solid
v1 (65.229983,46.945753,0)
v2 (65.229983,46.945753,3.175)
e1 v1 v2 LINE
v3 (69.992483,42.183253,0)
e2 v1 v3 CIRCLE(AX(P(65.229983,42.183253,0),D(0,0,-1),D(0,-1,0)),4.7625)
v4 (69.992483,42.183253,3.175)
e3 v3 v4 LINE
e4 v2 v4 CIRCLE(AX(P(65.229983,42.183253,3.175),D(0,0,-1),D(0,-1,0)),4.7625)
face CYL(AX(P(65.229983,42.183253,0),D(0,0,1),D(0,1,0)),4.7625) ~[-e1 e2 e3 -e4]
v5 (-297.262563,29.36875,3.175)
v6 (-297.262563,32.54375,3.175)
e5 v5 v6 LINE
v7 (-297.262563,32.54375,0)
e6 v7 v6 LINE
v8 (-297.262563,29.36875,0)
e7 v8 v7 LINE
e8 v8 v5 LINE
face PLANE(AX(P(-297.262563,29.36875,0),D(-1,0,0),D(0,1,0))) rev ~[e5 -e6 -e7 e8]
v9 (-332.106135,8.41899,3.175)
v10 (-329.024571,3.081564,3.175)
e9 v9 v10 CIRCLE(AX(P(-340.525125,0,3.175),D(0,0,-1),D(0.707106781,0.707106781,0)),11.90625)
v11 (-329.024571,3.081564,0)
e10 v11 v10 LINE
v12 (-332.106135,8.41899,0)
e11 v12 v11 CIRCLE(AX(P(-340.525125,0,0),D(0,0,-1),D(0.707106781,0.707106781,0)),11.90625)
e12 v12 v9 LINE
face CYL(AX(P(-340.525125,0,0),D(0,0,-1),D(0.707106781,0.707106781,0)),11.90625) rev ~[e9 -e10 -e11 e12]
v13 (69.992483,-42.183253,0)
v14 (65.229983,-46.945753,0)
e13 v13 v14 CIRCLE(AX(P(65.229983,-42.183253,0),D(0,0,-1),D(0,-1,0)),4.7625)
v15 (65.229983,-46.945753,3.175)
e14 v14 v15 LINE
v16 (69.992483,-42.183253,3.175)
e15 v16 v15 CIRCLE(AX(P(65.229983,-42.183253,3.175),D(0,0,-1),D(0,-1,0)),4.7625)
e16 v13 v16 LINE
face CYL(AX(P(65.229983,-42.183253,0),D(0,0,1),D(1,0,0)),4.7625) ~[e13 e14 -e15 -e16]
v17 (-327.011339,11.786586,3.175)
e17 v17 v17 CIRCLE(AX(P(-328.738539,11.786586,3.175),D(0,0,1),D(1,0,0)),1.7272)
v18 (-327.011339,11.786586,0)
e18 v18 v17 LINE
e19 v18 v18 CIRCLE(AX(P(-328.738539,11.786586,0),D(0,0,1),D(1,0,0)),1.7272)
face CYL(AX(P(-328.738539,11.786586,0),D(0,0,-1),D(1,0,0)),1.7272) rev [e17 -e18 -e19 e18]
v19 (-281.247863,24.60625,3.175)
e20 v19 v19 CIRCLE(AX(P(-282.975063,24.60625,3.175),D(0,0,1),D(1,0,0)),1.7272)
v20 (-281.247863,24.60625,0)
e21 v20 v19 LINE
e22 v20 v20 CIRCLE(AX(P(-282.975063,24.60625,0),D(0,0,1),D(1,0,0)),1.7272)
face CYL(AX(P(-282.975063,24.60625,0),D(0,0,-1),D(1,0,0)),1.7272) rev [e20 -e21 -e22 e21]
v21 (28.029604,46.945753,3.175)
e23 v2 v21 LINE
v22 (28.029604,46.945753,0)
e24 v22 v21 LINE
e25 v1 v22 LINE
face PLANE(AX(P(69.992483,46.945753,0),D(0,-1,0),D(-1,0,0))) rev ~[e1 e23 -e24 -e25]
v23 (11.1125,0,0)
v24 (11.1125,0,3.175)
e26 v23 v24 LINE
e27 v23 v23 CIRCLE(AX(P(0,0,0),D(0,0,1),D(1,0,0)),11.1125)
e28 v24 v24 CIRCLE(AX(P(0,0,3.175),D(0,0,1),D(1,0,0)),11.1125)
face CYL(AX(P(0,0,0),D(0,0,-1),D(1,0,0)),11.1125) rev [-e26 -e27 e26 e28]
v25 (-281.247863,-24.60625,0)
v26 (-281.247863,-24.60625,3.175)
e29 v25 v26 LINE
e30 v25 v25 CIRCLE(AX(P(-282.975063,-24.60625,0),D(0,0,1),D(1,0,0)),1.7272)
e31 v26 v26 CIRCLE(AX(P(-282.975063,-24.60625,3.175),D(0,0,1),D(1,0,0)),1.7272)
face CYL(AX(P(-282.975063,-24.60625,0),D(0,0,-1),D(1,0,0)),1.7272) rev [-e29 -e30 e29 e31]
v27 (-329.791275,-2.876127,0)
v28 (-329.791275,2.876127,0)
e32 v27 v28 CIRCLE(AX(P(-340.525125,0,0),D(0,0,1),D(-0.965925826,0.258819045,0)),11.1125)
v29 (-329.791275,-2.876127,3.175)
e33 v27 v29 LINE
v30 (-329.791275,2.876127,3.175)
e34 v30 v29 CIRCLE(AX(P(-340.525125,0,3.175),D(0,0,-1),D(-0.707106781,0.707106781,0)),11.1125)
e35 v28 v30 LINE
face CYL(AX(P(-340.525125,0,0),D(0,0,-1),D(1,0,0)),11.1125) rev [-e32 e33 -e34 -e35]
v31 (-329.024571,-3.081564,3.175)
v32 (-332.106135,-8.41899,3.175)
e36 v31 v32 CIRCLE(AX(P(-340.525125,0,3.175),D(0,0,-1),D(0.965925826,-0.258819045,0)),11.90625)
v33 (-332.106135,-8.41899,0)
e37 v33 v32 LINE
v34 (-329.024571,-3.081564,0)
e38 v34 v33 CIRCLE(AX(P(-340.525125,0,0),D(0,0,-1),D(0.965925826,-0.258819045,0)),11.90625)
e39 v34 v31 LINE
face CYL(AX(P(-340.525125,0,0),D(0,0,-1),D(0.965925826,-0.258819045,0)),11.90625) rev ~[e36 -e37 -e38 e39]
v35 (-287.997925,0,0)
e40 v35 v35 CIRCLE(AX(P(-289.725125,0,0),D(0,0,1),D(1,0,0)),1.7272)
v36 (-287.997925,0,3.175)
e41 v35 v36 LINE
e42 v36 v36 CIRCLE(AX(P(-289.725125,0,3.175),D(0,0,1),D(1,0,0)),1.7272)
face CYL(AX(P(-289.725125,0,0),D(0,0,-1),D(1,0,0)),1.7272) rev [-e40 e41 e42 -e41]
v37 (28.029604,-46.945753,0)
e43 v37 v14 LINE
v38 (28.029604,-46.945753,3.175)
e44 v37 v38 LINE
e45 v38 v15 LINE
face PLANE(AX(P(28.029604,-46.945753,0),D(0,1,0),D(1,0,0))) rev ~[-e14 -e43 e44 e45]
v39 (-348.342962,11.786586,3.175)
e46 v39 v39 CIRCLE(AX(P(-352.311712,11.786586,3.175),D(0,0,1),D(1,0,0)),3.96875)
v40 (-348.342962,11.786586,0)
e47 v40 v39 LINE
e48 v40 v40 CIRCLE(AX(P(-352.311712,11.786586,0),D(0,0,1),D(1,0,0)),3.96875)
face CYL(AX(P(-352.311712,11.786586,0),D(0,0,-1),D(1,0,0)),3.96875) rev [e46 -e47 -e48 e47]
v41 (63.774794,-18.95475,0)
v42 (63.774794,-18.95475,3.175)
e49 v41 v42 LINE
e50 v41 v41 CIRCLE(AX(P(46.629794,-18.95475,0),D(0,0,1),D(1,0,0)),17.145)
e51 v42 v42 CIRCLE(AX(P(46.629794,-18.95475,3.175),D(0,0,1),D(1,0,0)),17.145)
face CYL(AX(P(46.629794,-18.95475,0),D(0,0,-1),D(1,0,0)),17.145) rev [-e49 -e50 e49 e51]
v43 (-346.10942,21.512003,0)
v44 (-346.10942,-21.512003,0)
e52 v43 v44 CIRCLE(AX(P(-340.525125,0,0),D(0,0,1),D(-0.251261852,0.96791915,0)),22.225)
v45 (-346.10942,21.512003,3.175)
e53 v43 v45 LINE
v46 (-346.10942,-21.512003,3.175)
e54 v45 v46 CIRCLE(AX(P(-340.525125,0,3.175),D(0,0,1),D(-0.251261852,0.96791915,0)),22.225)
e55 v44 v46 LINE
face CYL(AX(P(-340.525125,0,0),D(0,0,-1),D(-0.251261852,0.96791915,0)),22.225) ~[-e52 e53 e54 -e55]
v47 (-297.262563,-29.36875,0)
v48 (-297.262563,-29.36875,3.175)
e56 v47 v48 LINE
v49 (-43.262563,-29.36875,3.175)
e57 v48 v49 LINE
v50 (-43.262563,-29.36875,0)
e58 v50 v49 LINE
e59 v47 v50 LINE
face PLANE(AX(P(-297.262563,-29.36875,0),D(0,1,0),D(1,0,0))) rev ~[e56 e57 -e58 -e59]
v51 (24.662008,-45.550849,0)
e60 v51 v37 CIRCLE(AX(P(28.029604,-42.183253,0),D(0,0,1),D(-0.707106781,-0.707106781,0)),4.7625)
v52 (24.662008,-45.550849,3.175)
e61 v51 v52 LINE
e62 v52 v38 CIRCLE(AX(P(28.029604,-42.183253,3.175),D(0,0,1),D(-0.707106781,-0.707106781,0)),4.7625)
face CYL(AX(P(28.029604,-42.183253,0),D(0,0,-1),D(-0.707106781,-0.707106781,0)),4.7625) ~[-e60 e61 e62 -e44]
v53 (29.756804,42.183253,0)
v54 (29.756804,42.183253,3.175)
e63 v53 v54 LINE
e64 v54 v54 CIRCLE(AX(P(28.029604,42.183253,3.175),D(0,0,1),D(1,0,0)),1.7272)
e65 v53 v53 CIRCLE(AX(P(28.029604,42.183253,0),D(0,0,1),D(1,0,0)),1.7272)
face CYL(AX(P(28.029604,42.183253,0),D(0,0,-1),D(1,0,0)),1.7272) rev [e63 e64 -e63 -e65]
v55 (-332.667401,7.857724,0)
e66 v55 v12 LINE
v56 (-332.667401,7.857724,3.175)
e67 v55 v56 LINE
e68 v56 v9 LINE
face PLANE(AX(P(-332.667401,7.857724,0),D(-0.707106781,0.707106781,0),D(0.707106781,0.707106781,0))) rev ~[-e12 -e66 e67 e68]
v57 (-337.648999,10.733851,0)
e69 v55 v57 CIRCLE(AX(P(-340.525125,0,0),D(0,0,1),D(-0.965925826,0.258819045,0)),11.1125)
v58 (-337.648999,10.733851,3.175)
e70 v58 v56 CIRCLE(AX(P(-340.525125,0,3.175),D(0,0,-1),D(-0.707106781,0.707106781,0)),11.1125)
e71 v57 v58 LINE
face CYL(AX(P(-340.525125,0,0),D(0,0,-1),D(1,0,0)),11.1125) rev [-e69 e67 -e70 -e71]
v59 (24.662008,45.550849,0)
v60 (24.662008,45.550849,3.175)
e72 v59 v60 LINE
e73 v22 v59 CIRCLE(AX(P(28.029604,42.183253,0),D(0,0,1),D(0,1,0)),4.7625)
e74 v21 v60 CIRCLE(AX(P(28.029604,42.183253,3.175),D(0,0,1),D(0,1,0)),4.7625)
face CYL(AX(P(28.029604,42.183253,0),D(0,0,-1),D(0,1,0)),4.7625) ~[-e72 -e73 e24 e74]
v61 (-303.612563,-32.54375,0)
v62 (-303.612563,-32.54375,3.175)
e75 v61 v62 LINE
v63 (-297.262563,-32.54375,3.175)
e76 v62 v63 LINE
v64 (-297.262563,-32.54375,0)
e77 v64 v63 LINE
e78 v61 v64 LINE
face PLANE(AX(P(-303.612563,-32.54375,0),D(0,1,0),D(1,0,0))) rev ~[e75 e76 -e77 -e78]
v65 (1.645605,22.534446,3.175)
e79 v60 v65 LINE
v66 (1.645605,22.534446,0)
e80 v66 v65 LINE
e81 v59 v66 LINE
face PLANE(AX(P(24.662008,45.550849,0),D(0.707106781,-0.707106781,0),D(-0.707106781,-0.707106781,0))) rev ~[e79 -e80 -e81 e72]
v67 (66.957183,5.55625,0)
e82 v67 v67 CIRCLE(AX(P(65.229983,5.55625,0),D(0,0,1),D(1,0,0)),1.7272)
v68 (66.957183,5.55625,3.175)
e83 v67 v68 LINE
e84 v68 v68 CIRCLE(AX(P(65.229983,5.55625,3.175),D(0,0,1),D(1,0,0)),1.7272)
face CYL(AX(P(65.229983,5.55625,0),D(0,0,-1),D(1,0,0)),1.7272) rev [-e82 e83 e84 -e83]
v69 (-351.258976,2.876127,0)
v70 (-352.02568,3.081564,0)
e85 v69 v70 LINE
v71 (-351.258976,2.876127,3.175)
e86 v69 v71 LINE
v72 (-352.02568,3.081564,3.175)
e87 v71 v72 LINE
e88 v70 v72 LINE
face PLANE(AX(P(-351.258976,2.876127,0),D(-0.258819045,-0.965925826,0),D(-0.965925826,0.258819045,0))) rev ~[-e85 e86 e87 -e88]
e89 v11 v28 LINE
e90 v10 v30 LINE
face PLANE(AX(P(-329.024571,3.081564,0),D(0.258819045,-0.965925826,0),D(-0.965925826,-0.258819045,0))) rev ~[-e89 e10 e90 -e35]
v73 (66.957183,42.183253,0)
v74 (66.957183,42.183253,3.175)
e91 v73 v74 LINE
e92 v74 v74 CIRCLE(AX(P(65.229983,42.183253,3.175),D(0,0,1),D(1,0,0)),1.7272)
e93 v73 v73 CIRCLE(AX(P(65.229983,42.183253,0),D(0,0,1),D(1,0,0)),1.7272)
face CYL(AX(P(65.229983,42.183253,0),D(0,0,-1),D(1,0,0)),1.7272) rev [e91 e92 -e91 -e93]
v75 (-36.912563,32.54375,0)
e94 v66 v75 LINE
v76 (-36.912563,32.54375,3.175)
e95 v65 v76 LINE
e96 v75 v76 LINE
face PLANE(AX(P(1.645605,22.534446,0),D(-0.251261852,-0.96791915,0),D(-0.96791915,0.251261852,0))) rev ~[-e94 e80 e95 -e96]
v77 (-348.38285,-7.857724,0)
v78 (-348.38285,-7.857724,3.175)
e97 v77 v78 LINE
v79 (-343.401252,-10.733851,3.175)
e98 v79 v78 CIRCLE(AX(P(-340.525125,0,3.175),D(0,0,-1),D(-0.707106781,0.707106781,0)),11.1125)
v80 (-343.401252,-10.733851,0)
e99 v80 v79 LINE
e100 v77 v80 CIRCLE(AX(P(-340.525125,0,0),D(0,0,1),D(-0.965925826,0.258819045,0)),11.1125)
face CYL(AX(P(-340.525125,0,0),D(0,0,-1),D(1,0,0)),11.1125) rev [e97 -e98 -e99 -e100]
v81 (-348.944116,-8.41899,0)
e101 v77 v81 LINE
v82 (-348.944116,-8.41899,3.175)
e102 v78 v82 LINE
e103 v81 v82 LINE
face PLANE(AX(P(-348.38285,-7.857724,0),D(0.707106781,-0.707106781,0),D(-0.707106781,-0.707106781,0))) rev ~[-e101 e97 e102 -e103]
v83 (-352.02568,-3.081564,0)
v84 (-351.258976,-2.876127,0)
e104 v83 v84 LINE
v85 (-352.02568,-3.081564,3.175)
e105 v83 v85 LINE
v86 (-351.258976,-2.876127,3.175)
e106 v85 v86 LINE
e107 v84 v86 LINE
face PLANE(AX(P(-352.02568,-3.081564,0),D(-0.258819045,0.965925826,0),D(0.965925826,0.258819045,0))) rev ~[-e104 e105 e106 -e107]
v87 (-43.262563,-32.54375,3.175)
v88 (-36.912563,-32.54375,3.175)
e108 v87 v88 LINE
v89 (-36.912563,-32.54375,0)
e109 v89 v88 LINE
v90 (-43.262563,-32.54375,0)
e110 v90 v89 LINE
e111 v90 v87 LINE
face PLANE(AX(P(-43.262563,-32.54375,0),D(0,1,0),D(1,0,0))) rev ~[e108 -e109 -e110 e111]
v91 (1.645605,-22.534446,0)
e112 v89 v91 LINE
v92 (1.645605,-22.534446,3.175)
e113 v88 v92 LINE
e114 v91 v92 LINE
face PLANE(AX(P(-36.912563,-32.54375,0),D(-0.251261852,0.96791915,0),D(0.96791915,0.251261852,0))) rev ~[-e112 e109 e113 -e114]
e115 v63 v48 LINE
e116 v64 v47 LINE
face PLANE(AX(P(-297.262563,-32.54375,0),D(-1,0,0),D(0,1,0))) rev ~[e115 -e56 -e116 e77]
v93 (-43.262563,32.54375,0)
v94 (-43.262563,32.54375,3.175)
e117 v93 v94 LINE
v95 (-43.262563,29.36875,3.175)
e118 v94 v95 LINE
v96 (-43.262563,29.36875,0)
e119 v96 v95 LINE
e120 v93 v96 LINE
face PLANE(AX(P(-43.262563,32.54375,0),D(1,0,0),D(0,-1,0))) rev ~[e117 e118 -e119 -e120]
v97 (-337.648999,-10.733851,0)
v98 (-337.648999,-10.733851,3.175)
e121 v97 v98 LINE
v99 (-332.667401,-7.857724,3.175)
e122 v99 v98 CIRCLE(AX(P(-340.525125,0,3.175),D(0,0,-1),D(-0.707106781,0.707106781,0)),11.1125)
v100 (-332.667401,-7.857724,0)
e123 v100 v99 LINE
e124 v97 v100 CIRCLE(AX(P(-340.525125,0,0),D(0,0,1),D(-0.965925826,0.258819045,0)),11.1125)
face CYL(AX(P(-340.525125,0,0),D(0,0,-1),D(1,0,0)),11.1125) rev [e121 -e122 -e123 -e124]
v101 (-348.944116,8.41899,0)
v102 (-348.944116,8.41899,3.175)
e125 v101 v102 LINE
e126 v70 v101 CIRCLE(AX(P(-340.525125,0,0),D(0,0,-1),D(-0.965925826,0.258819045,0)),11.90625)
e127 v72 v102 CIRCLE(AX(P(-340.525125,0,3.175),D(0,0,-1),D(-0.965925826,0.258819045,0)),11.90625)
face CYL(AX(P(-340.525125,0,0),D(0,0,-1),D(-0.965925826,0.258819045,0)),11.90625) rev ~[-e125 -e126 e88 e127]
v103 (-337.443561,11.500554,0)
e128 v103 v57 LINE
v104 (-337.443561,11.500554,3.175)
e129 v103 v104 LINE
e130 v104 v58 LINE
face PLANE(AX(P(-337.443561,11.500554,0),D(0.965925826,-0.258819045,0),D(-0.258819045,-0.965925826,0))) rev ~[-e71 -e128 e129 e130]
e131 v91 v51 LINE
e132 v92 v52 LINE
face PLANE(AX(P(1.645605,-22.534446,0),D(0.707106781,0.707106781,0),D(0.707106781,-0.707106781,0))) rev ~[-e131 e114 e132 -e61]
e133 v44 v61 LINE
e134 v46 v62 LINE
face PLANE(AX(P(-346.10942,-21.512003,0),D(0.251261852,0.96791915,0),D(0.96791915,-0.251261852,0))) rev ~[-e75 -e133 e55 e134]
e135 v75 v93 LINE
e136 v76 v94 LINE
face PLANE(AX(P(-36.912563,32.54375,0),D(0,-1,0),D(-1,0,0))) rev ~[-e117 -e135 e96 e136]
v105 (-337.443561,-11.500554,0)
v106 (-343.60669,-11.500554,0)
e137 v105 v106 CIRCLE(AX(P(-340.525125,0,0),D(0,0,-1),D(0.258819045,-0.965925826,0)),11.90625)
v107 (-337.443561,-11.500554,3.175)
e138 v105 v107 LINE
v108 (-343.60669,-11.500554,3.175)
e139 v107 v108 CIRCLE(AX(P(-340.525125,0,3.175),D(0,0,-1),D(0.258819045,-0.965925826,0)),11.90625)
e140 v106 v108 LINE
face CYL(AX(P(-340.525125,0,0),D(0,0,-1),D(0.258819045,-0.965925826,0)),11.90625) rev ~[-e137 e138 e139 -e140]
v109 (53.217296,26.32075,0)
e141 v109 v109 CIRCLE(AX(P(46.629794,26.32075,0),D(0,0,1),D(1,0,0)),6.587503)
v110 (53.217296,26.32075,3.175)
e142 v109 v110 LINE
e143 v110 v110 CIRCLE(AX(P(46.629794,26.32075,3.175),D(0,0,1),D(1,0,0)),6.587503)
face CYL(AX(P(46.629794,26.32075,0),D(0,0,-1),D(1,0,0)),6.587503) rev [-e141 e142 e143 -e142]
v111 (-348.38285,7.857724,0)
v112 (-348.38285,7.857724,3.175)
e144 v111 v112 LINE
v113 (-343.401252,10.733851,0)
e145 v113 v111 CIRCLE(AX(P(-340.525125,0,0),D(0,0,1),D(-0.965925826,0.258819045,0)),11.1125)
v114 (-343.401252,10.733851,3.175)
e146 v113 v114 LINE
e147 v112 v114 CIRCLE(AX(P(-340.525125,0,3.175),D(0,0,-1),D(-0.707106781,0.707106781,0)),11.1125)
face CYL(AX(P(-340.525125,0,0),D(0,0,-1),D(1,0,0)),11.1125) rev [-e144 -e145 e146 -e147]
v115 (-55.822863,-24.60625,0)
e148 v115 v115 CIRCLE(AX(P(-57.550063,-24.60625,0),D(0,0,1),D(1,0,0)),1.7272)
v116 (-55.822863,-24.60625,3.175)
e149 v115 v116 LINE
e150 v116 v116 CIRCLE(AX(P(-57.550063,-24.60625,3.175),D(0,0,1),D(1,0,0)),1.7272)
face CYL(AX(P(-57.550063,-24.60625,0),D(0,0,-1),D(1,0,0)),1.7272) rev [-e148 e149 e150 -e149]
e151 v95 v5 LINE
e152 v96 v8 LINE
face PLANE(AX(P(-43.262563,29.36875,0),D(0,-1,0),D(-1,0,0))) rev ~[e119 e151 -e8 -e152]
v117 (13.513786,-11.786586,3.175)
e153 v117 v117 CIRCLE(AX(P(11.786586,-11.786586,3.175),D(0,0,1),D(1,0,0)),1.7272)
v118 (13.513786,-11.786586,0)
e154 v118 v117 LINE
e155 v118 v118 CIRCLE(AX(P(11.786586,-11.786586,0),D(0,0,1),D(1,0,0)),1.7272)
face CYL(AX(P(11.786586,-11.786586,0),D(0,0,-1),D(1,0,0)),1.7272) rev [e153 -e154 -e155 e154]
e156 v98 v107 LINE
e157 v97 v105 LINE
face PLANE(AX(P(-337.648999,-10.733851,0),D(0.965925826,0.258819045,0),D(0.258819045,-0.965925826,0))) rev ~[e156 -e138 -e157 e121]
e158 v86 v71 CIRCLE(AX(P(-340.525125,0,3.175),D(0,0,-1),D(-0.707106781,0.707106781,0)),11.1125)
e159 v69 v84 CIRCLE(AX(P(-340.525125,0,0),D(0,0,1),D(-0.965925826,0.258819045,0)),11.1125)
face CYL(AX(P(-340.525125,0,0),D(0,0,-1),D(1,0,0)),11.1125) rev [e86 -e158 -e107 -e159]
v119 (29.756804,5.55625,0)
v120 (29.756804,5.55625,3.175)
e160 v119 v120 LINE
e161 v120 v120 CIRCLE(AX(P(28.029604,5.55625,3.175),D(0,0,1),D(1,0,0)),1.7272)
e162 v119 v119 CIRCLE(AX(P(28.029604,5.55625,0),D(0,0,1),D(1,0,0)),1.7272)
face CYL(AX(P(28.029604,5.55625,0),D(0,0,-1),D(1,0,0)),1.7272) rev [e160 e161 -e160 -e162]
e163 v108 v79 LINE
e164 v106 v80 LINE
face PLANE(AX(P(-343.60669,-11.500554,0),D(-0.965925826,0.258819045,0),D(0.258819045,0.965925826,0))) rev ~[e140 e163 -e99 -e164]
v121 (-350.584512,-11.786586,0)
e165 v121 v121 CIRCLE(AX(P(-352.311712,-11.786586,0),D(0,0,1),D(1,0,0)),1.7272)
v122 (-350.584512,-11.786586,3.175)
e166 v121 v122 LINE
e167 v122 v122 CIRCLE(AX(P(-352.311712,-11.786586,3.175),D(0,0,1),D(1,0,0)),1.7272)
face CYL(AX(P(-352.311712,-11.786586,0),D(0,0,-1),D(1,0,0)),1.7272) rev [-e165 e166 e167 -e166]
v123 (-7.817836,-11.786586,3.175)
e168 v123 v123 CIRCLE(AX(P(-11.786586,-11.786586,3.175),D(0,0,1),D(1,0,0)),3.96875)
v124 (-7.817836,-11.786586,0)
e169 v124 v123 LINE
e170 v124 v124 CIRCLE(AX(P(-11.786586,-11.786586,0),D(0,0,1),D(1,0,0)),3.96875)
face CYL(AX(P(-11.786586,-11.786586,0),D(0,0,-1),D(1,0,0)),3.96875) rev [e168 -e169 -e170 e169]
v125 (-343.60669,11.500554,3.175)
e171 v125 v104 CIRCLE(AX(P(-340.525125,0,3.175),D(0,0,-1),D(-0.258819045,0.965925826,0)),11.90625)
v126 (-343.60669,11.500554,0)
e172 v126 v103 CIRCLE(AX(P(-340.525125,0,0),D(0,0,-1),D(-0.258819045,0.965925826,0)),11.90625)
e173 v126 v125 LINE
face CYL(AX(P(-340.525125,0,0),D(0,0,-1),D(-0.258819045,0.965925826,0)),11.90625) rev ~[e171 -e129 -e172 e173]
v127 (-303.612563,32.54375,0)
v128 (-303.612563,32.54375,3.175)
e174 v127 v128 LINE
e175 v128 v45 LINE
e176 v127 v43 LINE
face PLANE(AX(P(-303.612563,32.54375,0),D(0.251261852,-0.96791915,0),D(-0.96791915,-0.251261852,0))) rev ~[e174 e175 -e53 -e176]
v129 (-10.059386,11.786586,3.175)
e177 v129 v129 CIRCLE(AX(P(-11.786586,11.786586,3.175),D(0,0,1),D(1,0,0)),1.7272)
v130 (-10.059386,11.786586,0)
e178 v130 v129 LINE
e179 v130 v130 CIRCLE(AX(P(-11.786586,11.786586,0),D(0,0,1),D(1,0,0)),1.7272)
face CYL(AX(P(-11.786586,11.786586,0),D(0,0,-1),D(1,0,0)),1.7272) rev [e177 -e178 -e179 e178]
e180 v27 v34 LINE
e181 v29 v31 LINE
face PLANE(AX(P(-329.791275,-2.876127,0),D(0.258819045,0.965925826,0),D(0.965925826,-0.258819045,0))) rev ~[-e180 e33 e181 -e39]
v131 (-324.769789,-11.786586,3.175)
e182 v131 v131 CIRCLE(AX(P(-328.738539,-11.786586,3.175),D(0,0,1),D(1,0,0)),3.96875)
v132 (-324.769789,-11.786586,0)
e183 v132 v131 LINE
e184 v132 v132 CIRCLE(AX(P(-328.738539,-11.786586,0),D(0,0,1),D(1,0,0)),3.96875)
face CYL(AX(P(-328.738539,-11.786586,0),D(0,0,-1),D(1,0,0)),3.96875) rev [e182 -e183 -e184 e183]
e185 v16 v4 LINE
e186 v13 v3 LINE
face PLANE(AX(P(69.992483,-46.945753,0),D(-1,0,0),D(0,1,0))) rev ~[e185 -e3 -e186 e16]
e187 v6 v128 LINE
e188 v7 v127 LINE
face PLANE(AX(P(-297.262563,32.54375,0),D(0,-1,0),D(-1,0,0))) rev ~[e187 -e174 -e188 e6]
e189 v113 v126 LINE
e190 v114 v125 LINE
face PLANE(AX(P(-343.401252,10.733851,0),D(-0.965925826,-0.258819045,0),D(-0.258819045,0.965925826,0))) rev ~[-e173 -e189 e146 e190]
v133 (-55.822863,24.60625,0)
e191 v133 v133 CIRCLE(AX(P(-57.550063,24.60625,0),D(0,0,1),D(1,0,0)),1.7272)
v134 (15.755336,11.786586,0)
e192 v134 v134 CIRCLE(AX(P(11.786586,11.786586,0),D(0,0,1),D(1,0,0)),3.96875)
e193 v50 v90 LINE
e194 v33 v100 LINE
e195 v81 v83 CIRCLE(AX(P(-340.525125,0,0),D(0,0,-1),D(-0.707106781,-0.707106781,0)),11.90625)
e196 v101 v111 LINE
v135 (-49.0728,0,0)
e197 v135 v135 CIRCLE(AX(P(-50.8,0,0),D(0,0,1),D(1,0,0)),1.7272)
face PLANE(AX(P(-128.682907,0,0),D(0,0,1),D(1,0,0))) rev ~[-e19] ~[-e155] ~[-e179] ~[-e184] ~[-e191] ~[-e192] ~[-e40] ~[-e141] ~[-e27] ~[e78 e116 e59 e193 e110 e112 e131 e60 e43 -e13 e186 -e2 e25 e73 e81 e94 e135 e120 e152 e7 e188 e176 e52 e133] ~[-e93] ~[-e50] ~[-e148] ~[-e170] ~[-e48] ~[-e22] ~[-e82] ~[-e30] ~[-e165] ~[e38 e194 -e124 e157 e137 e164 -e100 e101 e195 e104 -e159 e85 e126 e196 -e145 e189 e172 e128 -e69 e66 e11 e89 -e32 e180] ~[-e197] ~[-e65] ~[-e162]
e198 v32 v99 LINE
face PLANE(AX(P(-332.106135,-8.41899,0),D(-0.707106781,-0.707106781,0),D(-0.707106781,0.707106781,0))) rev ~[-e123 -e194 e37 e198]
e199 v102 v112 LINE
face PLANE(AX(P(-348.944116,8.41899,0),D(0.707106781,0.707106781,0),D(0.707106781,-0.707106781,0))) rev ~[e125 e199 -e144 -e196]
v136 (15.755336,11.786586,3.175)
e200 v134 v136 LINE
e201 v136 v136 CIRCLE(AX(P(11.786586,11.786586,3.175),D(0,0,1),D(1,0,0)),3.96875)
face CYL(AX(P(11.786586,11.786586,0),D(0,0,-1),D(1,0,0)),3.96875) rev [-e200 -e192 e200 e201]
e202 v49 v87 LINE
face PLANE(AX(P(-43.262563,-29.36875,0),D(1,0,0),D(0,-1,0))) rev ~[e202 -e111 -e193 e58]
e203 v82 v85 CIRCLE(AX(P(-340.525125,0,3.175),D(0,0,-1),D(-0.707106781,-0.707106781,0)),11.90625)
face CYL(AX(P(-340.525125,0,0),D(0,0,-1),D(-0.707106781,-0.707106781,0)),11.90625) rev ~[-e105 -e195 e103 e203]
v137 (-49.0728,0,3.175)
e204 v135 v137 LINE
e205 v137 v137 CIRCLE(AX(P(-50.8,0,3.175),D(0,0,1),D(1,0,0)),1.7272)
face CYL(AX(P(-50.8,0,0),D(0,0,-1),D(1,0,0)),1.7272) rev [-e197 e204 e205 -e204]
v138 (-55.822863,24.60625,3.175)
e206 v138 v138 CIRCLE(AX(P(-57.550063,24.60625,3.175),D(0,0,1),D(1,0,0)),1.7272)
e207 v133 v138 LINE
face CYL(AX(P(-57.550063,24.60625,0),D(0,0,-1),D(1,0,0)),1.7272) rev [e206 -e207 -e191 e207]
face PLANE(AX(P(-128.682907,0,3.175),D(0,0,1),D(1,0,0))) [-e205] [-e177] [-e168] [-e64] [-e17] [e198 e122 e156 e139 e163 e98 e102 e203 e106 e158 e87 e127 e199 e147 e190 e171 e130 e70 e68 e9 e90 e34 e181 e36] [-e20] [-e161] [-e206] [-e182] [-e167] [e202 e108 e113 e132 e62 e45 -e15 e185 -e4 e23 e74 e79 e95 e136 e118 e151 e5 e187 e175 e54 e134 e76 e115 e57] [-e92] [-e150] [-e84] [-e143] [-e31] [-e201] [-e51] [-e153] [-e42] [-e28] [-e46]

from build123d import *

# Parameters (mm, degrees)
F0_R     = 1.7272
F0_R_2   = 3.96875
F0_R_3   = 17.145
F0_R_4   = 11.1125
F0_R_5   = 6.5875027
F1_DEPTH = 3.175
F3_DEPTH = 3.175
F4_COUNT = 6
F4_ANGLE = 300
F5_R     = 4.7625


with BuildPart() as f1:
    # F0 (on Top) → F1 (new body)
    with BuildSketch(Plane.XY):
        with BuildLine():
            Line((-303.6125627, 32.54375), (-346.1094200534, 21.5120031198))
            ThreePointArc((-346.1094200534, 21.5120031198), (-362.7501254, 0), (-346.1094200534, -21.5120031198))
            Line((-346.1094200534, -21.5120031198), (-303.6125627, -32.54375))
            Line((-303.6125627, -32.54375), (-297.2625627, -32.54375))
            Line((-297.2625627, -32.54375), (-297.2625627, -29.36875))
            Line((-297.2625627, -29.36875), (-43.2625627, -29.36875))
            Line((-43.2625627, -29.36875), (-43.2625627, -32.54375))
            Line((-43.2625627, -32.54375), (-36.9125627, -32.54375))
            Line((-36.9125627, -32.54375), (1.6456052558, -22.5344463586))
            Line((1.6456052558, -22.5344463586), (24.6620081426, -45.5508492454))
            ThreePointArc((24.6620081426, -45.5508492454), (26.2070743414, -46.5832294736), (28.029604188, -46.9457532))
            Line((28.029604188, -46.9457532), (69.9924832184, -46.9457532))
            Line((69.9924832184, -46.9457532), (69.9924832184, 46.9457532))
            Line((69.9924832184, 46.9457532), (28.029604188, 46.9457532))
            ThreePointArc((28.029604188, 46.9457532), (26.2070743414, 46.5832294736), (24.6620081426, 45.5508492454))
            Line((24.6620081426, 45.5508492454), (1.6456052558, 22.5344463586))
            Line((1.6456052558, 22.5344463586), (-36.9125627, 32.54375))
            Line((-36.9125627, 32.54375), (-43.2625627, 32.54375))
            Line((-43.2625627, 32.54375), (-43.2625627, 29.36875))
            Line((-43.2625627, 29.36875), (-297.2625627, 29.36875))
            Line((-297.2625627, 29.36875), (-297.2625627, 32.54375))
            Line((-297.2625627, 32.54375), (-303.6125627, 32.54375))
        make_face()
        with Locations((-282.9750627, -24.60625)):
            Circle(F0_R, mode=Mode.SUBTRACT)
        with Locations((-352.3117115589, -11.7865861589)):
            Circle(F0_R, mode=Mode.SUBTRACT)
        with Locations((-328.7385392411, -11.7865861589)):
            Circle(F0_R_2, mode=Mode.SUBTRACT)
        with Locations((-57.5500627, -24.60625)):
            Circle(F0_R, mode=Mode.SUBTRACT)
        with Locations((-11.7865861589, -11.7865861589)):
            Circle(F0_R_2, mode=Mode.SUBTRACT)
        with Locations((11.7865861589, -11.7865861589)):
            Circle(F0_R, mode=Mode.SUBTRACT)
        with Locations((46.6297937032, -18.95475)):
            Circle(F0_R_3, mode=Mode.SUBTRACT)
        with Locations((-340.5251254, 0)):
            Circle(F0_R_4, mode=Mode.SUBTRACT)
        with Locations((-289.7251254, 0)):
            Circle(F0_R, mode=Mode.SUBTRACT)
        with Locations((-352.3117115589, 11.7865861589)):
            Circle(F0_R_2, mode=Mode.SUBTRACT)
        with Locations((-328.7385392411, 11.7865861589)):
            Circle(F0_R, mode=Mode.SUBTRACT)
        with Locations((-282.9750627, 24.60625)):
            Circle(F0_R, mode=Mode.SUBTRACT)
        with Locations((-50.8, 0)):
            Circle(F0_R, mode=Mode.SUBTRACT)
        Circle(F0_R_4, mode=Mode.SUBTRACT)
        with Locations((28.029604188, 5.55625)):
            Circle(F0_R, mode=Mode.SUBTRACT)
        with Locations((65.2299832184, 5.55625)):
            Circle(F0_R, mode=Mode.SUBTRACT)
        with Locations((-11.7865861589, 11.7865861589)):
            Circle(F0_R, mode=Mode.SUBTRACT)
        with Locations((11.7865861589, 11.7865861589)):
            Circle(F0_R_2, mode=Mode.SUBTRACT)
        with Locations((-57.5500627, 24.60625)):
            Circle(F0_R, mode=Mode.SUBTRACT)
        with Locations((46.6297937032, 26.32075)):
            Circle(F0_R_5, mode=Mode.SUBTRACT)
        with Locations((28.029604188, 42.1832532)):
            Circle(F0_R, mode=Mode.SUBTRACT)
        with Locations((65.2299832184, 42.1832532)):
            Circle(F0_R, mode=Mode.SUBTRACT)
    extrude(amount=F1_DEPTH)

    # F2 (on face) → F3 (cut, through all)
    with BuildSketch(Plane(origin=(0, 0, 0), x_dir=(1, 0, 0), z_dir=(0, 0, -1))):
        with BuildLine():
            ThreePointArc((-348.3828495059, -7.8577241059), (-350.1488326996, -5.55625), (-351.2589761446, -2.8761266387))
            Line((-351.2589761446, -2.8761266387), (-352.0256797693, -3.0815642558))
            ThreePointArc((-352.0256797693, -3.0815642558), (-350.8362403638, -5.953125), (-348.9441155135, -8.4189901135))
            Line((-348.9441155135, -8.4189901135), (-348.3828495059, -7.8577241059))
        make_face()
    f3 = extrude(amount=-F3_DEPTH, mode=Mode.SUBTRACT)

    # F4: F3 ×6 about axis
    f4_axis = Axis((-340.5251254, 0, 0), (0, 0, -1))
    for i in range(1, F4_COUNT):
        add(f3.rotate(f4_axis, i * F4_ANGLE / (F4_COUNT - 1)), mode=Mode.SUBTRACT)

    # F5
    f5_edges = [f1.edges().sort_by_distance(p)[0] for p in [
        (69.992483, 46.945753, 1.5875),
        (69.992483, -46.945753, 1.5875),
    ]]
    fillet(f5_edges, radius=F5_R)


solid = f1.part
